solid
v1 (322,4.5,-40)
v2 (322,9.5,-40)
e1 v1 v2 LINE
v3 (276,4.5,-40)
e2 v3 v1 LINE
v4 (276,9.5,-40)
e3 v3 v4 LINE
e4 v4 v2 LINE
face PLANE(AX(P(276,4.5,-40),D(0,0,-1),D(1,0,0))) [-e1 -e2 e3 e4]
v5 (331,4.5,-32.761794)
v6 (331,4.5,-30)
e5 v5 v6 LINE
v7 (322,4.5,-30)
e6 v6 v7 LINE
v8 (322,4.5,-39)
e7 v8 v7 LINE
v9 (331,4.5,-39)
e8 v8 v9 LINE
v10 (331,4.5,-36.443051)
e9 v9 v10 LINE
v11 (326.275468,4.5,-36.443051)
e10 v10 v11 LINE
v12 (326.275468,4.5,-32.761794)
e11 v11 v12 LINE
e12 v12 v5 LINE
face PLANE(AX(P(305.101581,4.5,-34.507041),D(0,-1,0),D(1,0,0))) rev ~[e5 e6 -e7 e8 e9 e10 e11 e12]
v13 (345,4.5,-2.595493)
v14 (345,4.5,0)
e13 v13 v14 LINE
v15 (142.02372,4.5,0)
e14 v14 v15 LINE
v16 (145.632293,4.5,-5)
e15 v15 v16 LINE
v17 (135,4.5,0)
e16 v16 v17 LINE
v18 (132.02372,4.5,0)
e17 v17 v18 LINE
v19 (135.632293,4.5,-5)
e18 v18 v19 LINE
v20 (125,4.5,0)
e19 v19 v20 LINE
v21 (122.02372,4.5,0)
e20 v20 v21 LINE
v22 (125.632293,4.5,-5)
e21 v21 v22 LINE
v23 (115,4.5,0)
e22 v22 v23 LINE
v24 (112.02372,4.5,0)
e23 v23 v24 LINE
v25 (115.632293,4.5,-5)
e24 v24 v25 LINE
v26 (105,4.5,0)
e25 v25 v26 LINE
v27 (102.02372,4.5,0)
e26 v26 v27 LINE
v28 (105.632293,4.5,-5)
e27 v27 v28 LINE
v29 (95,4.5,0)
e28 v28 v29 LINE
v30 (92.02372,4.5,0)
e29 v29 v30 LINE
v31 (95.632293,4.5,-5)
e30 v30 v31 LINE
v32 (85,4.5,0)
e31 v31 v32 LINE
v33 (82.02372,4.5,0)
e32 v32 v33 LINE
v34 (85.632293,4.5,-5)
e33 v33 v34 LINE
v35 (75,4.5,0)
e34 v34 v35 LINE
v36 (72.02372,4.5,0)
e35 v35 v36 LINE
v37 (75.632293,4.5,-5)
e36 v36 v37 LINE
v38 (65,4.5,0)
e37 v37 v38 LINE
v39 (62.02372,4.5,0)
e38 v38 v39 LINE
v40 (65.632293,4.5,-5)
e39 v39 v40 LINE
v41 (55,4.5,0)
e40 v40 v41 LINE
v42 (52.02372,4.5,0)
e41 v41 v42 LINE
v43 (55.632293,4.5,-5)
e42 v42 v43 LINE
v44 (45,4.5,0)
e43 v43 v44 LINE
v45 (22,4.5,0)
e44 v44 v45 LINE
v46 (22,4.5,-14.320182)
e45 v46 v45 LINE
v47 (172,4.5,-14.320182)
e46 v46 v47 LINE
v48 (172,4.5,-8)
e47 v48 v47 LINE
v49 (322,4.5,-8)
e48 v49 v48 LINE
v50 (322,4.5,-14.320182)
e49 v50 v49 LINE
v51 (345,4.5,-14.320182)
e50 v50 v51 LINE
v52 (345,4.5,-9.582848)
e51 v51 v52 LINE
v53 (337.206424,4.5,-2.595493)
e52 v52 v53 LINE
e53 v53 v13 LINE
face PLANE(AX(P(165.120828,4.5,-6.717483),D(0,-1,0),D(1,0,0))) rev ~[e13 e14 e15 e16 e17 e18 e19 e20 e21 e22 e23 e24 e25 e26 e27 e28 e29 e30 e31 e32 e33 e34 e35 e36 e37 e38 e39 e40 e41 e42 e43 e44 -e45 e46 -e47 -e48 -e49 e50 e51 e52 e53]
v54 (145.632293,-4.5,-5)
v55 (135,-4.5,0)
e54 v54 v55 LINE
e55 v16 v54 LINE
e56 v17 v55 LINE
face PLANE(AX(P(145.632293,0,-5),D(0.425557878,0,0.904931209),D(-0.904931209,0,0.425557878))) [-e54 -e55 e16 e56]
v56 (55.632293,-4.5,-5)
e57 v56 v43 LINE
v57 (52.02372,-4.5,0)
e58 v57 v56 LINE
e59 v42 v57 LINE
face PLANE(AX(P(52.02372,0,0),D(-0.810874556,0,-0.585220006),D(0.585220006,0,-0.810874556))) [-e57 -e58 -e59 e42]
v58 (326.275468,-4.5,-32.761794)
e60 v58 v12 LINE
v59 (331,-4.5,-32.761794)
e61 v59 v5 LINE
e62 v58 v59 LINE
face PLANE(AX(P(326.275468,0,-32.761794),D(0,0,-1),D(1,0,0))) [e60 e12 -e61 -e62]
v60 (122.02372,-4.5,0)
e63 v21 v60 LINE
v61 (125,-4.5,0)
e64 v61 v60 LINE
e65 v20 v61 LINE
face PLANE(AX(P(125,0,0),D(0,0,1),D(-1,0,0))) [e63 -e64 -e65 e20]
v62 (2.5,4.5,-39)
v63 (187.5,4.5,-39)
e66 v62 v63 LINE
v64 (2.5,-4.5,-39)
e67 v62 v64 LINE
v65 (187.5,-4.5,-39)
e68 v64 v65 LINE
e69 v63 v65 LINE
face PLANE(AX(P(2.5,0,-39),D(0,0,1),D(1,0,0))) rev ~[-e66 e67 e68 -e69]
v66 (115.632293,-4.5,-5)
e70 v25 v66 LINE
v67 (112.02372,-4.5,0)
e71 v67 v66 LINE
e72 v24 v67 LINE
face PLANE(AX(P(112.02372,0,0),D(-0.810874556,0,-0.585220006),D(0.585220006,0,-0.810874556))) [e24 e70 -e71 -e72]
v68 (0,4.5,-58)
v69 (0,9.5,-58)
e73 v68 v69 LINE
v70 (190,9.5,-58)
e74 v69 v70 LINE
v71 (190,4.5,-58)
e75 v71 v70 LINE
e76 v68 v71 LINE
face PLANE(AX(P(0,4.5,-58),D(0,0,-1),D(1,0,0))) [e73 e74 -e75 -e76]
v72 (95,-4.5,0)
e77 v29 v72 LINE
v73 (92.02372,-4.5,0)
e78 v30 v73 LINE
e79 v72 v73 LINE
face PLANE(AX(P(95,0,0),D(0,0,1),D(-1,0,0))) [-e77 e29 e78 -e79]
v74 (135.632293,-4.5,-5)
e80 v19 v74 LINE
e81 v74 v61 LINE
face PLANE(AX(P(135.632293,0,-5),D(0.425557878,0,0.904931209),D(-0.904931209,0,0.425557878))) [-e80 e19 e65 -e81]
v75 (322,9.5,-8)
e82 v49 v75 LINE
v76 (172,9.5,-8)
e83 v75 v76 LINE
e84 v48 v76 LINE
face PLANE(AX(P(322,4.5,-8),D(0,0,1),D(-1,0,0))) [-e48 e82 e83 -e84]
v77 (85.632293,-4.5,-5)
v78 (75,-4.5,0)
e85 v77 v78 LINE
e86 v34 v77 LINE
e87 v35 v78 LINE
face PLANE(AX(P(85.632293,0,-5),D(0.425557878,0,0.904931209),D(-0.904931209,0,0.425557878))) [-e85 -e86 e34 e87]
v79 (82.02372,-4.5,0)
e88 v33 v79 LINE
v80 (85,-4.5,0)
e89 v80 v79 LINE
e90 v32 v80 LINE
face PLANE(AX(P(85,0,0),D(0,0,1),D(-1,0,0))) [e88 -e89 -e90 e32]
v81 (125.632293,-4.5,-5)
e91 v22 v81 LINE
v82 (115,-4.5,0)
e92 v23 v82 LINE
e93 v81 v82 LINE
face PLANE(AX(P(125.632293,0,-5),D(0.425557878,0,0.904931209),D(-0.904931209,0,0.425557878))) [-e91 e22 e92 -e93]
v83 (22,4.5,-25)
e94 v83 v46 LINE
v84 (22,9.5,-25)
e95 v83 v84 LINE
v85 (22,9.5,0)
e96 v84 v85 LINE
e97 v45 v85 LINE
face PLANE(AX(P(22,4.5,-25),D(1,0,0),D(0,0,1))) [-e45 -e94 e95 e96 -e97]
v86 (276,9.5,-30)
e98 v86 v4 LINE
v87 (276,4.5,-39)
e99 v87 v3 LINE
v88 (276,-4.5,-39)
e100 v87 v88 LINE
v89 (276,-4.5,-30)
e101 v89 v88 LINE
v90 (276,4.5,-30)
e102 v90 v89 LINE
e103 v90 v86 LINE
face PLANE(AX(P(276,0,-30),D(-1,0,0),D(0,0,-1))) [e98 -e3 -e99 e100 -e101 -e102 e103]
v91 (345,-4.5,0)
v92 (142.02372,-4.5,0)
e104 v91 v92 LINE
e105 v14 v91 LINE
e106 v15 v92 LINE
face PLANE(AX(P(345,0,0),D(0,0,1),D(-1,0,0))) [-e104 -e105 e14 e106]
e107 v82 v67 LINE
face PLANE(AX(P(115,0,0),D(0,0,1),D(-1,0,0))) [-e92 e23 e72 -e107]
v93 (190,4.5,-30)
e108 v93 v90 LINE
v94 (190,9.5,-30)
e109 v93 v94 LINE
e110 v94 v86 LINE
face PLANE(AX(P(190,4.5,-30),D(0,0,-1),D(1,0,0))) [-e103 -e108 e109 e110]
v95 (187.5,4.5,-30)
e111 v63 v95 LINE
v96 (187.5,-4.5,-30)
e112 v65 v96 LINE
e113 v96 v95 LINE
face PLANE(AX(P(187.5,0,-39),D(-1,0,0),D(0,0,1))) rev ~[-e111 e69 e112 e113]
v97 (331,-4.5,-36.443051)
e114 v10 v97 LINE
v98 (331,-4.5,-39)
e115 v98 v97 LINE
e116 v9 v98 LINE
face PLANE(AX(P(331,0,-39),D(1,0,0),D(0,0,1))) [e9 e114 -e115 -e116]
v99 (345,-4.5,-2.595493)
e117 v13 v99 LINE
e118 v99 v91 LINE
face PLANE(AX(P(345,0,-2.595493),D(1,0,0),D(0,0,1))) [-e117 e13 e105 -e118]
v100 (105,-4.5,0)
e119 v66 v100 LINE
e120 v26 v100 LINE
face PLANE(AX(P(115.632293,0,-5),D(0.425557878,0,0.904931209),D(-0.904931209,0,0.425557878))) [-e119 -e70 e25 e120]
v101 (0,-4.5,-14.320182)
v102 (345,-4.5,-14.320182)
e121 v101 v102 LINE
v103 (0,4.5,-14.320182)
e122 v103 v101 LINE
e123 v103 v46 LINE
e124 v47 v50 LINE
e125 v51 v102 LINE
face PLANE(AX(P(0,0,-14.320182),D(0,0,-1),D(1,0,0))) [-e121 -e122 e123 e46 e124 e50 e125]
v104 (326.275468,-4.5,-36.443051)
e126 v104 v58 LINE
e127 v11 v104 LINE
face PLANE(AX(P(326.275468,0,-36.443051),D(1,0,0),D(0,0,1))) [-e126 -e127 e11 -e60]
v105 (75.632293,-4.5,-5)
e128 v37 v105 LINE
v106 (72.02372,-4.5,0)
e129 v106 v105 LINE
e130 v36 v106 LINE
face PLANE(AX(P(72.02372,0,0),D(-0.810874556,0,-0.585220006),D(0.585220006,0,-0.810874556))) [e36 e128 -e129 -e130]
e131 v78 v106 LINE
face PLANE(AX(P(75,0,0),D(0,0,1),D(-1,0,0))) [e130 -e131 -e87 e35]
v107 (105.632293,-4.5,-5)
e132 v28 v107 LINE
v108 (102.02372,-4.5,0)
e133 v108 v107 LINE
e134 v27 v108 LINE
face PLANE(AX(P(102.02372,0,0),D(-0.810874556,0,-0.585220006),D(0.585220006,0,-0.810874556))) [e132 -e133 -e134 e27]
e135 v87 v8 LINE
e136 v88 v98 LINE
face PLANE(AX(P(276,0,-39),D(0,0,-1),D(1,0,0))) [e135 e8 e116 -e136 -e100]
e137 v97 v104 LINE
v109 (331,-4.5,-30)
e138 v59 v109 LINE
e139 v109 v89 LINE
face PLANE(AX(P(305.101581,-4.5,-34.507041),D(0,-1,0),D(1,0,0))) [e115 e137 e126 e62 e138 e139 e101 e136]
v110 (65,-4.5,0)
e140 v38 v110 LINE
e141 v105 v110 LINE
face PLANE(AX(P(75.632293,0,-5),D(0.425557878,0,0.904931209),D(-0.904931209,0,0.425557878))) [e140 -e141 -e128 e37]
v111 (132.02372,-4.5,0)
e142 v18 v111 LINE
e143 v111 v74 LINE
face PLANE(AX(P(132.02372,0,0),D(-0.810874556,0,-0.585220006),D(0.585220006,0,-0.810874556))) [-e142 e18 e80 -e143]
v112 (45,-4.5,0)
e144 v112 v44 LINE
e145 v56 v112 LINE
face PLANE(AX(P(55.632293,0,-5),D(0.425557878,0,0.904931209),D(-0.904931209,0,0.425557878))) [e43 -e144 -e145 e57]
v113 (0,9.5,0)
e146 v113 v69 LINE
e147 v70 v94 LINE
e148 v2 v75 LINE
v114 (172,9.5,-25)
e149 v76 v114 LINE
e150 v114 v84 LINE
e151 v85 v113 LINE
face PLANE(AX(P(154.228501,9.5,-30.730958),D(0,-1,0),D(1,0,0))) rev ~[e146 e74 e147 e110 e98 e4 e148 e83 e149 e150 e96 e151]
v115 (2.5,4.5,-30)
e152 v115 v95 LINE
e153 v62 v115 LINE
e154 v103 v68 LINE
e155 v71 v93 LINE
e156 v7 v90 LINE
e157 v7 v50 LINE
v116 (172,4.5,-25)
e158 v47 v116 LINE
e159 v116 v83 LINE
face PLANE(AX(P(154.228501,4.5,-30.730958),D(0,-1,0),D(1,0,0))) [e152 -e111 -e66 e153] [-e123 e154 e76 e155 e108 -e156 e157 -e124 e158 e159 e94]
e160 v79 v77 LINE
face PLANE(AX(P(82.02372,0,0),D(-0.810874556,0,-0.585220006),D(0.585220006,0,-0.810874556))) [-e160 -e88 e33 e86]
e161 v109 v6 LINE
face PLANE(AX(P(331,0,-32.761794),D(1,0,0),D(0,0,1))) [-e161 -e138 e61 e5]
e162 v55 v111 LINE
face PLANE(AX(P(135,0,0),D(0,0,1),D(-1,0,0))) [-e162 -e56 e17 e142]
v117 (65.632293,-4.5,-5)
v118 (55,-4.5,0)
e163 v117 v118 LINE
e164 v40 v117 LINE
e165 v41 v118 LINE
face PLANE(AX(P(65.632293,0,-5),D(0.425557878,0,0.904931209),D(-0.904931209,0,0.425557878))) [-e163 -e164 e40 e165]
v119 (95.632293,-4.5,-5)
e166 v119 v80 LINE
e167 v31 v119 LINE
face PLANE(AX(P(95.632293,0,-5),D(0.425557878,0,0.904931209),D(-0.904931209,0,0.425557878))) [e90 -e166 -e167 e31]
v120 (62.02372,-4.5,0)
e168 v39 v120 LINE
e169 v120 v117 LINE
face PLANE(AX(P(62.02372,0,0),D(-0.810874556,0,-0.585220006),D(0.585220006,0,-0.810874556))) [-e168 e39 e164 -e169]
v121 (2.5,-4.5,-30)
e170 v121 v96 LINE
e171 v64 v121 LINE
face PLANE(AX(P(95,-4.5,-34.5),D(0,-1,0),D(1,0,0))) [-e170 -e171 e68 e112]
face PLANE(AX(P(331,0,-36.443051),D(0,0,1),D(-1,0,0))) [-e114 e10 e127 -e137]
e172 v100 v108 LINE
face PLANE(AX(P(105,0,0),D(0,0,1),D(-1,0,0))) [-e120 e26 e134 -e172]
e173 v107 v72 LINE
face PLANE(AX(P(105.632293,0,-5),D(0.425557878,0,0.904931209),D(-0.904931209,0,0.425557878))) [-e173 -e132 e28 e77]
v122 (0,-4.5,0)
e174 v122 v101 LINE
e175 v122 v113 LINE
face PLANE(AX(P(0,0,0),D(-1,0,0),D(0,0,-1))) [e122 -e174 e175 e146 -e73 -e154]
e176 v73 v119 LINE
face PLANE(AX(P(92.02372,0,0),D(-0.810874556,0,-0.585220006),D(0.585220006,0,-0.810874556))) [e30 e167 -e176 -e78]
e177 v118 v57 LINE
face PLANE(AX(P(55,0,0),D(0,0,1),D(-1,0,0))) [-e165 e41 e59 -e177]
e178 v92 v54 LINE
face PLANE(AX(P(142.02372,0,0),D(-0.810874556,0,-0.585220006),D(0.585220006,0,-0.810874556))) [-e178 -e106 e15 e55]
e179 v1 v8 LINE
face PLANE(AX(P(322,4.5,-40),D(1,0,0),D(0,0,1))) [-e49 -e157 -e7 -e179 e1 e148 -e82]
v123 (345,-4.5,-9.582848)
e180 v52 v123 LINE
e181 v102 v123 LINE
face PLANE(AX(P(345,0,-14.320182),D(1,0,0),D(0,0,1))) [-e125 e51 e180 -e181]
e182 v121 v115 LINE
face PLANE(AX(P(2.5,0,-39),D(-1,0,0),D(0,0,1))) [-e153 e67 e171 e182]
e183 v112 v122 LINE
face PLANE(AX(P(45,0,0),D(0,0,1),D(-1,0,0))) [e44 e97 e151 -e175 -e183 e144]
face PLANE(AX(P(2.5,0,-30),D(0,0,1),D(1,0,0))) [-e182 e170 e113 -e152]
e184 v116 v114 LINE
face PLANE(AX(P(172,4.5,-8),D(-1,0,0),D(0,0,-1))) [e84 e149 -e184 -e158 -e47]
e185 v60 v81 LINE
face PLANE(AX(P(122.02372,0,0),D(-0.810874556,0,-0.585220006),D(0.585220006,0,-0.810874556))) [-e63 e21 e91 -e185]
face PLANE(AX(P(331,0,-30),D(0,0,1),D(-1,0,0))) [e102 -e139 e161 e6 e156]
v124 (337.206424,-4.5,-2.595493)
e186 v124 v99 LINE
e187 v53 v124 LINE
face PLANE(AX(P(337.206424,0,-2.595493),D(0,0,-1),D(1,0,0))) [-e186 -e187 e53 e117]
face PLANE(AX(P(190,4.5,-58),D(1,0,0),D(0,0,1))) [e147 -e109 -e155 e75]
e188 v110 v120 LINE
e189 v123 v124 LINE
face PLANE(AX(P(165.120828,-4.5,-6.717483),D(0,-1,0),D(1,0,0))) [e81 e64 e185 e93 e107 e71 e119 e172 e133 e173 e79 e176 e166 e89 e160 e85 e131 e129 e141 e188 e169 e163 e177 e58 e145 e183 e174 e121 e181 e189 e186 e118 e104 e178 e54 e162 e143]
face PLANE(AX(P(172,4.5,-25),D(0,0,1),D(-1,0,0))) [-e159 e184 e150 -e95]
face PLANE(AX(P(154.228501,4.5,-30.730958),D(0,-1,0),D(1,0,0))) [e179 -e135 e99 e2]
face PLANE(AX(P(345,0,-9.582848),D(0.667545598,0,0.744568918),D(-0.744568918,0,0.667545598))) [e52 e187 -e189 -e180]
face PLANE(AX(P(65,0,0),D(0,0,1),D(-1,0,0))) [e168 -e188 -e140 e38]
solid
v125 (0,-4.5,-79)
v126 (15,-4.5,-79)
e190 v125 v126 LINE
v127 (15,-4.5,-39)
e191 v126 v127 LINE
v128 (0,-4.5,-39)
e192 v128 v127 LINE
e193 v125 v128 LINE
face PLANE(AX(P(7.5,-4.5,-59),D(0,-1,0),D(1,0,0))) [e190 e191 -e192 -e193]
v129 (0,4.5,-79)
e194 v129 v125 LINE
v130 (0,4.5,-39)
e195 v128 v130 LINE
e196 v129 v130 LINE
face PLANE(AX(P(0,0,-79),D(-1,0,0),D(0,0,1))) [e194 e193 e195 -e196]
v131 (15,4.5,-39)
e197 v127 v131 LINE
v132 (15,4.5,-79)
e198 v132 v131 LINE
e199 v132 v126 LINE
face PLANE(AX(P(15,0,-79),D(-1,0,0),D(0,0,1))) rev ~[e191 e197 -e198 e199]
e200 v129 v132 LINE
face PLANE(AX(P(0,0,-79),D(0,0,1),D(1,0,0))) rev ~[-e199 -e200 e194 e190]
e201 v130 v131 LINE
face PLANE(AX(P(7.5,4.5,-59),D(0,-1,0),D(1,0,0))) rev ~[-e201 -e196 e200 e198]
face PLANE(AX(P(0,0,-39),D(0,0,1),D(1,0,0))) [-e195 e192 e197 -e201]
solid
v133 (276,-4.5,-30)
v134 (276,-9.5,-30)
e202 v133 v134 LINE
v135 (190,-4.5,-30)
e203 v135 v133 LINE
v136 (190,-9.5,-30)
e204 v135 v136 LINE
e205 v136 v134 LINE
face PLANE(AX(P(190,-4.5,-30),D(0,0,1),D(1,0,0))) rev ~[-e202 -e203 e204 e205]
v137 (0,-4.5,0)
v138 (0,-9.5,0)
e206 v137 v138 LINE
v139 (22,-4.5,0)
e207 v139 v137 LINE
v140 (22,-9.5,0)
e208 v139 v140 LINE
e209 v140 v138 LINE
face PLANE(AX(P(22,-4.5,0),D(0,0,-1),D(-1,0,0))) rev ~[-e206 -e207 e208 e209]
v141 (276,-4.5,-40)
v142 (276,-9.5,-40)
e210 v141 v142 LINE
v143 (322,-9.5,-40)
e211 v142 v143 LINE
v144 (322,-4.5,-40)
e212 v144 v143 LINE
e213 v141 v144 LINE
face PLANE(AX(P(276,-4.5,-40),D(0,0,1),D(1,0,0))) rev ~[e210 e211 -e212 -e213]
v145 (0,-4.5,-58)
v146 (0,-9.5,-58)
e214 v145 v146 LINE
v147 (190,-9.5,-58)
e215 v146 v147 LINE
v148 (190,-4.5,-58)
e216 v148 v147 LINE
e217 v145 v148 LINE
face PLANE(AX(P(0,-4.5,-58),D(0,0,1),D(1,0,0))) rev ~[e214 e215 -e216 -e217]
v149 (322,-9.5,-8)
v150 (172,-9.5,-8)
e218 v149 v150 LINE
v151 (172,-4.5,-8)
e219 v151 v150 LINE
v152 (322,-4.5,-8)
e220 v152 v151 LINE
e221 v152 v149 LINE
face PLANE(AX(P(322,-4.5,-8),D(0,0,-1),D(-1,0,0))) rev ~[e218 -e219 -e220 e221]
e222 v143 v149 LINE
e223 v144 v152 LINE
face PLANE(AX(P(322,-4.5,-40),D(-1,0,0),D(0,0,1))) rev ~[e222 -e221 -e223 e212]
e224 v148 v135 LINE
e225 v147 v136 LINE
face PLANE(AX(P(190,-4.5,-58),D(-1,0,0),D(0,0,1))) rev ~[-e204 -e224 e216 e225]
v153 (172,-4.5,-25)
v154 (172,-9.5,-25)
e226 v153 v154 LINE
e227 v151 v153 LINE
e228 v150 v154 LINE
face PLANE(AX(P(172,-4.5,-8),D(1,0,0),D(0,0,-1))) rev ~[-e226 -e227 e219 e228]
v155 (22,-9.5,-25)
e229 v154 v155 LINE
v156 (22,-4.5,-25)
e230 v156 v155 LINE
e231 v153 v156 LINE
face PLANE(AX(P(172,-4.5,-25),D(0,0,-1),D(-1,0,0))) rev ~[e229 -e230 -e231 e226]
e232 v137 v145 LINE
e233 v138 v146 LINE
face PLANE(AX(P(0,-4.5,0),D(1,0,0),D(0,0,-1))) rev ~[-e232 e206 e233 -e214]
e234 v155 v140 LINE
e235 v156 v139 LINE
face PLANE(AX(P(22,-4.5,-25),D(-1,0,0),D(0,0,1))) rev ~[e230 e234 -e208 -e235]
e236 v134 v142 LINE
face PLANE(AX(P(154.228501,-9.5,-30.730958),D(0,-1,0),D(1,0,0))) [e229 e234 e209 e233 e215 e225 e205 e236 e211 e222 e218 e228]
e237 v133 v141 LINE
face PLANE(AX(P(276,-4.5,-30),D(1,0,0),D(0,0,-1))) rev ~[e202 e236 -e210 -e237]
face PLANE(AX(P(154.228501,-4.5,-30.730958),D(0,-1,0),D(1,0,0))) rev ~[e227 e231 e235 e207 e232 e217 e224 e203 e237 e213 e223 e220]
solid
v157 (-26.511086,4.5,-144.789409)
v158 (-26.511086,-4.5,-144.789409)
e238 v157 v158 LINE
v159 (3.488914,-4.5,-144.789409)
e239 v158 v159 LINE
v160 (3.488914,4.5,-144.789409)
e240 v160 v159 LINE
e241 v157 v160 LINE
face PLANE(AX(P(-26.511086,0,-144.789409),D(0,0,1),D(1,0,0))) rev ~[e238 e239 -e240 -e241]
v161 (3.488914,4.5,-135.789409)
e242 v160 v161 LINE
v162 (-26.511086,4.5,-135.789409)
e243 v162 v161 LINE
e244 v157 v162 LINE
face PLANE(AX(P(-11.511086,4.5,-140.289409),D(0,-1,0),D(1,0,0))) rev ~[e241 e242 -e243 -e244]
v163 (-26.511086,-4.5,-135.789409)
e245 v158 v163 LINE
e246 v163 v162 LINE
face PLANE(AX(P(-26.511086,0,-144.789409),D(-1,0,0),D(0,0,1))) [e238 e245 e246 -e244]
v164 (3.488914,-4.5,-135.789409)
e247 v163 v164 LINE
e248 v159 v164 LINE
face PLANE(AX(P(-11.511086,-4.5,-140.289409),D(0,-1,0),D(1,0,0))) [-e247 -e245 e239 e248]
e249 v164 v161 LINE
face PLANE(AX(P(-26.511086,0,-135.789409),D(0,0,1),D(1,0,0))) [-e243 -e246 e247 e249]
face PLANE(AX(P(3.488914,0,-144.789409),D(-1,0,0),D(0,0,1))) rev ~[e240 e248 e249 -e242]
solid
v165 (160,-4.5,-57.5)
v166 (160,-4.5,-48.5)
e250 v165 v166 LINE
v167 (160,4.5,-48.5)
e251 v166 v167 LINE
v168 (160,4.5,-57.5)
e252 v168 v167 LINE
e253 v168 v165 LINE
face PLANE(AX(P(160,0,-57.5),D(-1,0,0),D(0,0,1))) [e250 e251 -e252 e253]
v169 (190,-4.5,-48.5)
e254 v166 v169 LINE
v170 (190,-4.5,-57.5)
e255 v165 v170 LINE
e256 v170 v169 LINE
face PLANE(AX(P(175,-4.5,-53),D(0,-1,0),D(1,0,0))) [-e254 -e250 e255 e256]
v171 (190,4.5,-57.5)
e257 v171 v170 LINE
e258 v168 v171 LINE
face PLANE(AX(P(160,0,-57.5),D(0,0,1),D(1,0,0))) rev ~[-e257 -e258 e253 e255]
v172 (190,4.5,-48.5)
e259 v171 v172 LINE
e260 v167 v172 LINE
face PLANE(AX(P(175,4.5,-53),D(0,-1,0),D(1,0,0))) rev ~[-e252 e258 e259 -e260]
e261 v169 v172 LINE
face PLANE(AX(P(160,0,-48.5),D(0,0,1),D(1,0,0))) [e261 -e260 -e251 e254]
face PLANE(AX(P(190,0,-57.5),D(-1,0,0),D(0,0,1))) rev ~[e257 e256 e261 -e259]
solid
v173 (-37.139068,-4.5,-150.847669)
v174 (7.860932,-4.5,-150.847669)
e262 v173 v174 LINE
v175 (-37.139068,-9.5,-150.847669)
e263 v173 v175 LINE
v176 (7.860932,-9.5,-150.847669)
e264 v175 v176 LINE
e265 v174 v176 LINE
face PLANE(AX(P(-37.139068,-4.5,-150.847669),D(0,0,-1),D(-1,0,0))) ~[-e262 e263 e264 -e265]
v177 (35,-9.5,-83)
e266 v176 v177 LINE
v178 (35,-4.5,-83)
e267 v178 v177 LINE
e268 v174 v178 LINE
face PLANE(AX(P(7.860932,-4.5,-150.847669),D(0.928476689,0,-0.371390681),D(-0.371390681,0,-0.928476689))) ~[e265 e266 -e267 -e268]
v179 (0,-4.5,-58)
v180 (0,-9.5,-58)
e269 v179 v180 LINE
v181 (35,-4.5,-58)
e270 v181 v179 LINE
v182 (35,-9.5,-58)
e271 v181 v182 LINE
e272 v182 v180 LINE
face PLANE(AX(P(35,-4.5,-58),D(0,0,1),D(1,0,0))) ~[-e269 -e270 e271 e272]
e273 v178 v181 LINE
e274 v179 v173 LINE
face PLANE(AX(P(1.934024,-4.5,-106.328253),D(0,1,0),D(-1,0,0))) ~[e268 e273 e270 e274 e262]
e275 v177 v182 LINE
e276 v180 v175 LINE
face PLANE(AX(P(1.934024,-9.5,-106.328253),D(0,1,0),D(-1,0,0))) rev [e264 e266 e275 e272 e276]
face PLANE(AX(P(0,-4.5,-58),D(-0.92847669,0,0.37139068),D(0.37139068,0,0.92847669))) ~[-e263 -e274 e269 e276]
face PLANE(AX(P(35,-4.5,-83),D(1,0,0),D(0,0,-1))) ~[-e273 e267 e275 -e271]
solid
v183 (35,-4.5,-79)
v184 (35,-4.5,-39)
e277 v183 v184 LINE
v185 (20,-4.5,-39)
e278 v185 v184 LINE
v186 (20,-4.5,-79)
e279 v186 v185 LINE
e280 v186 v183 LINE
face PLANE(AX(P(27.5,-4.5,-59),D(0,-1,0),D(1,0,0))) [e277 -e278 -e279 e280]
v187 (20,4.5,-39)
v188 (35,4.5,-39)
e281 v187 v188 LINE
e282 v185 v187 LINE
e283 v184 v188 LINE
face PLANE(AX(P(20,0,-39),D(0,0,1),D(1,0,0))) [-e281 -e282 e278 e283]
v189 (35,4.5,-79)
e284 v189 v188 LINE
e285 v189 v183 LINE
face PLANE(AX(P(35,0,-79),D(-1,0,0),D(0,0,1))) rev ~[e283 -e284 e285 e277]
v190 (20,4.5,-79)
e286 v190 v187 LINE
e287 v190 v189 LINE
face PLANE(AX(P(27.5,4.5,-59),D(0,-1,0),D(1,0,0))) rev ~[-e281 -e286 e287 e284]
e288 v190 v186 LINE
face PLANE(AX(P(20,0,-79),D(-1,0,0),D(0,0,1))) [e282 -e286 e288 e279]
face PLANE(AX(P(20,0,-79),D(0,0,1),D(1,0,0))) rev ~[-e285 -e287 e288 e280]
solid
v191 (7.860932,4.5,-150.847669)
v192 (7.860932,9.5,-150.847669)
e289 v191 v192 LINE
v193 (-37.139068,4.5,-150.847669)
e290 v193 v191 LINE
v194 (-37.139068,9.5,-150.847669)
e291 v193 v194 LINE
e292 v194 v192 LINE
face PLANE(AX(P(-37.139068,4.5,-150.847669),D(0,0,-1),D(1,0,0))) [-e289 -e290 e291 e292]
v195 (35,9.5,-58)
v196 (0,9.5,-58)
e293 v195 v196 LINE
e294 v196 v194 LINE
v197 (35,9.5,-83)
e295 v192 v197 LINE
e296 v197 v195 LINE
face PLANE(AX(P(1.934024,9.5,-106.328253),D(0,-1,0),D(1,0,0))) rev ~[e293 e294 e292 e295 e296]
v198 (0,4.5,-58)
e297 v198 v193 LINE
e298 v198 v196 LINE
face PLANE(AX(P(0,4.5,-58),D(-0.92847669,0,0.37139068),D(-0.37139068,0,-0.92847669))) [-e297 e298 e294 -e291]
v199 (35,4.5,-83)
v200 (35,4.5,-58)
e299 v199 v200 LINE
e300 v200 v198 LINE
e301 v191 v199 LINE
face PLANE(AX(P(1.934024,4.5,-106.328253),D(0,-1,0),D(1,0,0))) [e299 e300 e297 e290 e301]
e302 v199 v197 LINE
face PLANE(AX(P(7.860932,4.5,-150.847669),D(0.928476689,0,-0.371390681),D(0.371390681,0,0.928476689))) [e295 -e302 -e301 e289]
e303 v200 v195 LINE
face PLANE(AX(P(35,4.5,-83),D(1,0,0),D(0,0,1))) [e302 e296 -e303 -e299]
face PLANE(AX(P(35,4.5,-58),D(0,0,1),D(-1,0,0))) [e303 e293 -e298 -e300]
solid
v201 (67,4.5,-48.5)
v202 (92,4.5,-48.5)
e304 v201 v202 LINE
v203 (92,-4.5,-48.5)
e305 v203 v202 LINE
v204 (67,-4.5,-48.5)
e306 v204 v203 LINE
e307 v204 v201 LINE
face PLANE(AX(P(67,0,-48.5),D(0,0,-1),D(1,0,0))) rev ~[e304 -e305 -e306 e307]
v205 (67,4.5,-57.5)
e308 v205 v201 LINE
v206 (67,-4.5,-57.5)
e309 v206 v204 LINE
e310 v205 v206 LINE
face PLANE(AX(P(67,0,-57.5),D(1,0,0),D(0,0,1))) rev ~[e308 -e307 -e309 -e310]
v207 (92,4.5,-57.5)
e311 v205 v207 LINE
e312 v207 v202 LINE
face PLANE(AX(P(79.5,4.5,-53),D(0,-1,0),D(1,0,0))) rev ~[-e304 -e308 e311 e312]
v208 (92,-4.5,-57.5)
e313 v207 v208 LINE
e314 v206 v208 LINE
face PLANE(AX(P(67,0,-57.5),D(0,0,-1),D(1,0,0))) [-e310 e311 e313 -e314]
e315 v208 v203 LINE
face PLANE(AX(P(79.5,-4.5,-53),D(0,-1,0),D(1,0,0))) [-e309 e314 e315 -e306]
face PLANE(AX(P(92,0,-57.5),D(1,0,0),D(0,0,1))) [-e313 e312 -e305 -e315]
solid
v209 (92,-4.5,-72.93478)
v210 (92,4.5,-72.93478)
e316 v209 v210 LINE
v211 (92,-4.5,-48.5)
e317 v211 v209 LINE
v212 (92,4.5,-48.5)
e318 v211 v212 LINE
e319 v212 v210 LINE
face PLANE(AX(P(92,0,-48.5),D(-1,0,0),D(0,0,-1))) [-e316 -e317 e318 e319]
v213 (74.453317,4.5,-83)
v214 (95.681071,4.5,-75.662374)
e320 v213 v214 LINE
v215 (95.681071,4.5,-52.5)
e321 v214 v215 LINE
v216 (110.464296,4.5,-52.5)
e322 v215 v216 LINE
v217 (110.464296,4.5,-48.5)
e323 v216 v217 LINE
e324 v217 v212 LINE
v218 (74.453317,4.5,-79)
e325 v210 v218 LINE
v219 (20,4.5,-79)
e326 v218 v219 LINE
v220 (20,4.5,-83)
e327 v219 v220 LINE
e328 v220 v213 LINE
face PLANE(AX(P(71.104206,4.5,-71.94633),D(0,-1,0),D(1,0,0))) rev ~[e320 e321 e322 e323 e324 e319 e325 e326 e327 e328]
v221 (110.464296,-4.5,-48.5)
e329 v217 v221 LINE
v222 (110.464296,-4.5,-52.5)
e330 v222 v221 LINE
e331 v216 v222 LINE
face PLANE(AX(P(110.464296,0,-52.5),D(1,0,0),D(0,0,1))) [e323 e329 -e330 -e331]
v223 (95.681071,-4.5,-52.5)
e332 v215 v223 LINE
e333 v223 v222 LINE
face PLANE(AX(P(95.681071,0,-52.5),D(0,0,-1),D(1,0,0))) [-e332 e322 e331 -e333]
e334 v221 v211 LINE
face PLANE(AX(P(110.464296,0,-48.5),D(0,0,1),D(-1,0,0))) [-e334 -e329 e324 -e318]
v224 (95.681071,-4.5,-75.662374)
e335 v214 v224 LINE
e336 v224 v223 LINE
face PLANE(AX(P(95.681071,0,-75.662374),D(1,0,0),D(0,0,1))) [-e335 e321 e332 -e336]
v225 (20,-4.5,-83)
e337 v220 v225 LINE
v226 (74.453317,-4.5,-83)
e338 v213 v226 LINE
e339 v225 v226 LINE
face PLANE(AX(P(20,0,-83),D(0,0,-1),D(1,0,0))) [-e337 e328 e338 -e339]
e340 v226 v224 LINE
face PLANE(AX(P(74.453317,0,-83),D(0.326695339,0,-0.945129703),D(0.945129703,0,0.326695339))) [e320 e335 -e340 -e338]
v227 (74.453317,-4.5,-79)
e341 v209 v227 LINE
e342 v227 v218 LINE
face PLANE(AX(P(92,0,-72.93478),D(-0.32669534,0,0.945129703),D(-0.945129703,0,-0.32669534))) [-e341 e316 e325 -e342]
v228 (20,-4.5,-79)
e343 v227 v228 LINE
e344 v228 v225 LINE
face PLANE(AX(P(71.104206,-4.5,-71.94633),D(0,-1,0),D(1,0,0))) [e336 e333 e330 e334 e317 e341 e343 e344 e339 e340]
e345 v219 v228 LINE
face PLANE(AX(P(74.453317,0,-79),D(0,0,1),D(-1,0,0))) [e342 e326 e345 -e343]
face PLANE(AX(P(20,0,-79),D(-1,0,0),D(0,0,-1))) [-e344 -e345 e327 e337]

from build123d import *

# Parameters (mm, degrees)
F2_DEPTH  = 5
F3_W      = 185
F3_H      = 9
F4_DEPTH  = 4.5
F6_DEPTH  = 4.5
F8_DEPTH  = 5
F9_W      = 15
F9_H      = 40
F9_W_2    = 30
F9_H_2    = 9
F9_W_3    = 25
F10_DEPTH = 4.5
F14_DEPTH = 5
F16_DEPTH = 4.5


with BuildPart() as f2:
    # F1 (on offset) → F2 (new body)
    with BuildSketch(Plane.XZ.offset(-4.5)):
        Polygon((22, 0), (0, 0), (0, -58), (190, -58), (190, -30), (276, -30), (276, -40), (322, -40), (322, -8), (172, -8), (172, -25), (22, -25), align=None)
    extrude(amount=-F2_DEPTH)

    # F3 (on Front) → F4 (join, symmetric)
    with BuildSketch(Plane.XZ):
        with Locations((95, -34.5)):
            Rectangle(F3_W, F3_H)
        Polygon((331, -30), (276, -30), (276, -39), (331, -39), (331, -36.443051), (326.275468, -36.443051), (326.275468, -32.761794), (331, -32.761794), align=None)
    extrude(amount=F4_DEPTH, both=True)

    # F5 (on Front) → F6 (join, symmetric)
    with BuildSketch(Plane.XZ):
        Polygon((39.891679, 0), (0, 0), (0, -5), (0, -14.320182), (345, -14.320182), (345, -9.582848), (337.206424, -2.595493), (345, -2.595493), (345, 0), (142.02372, 0), (145.632293, -5), (135, 0), (132.02372, 0), (135.632293, -5), (125, 0), (122.02372, 0), (125.632293, -5), (115, 0), (112.02372, 0), (115.632293, -5), (105, 0), (102.02372, 0), (105.632293, -5), (95, 0), (92.02372, 0), (95.632293, -5), (85, 0), (82.02372, 0), (85.632293, -5), (75, 0), (72.02372, 0), (75.632293, -5), (65, 0), (62.02372, 0), (65.632293, -5), (55, 0), (52.02372, 0), (55.632293, -5), (45, 0), (40.031508, 0), align=None)
    extrude(amount=F6_DEPTH, both=True)


with BuildPart() as f8:
    # F7 (on offset) → F8 (new body)
    with BuildSketch(Plane.XZ.offset(-4.5)):
        Polygon((35, -58), (0, -58), (-37.139068, -150.847669), (7.860932, -150.847669), (35, -83), align=None)
    extrude(amount=-F8_DEPTH)


with BuildPart() as f10:
    # F9 (on Front) → F10 (new body, symmetric)
    with BuildSketch(Plane.XZ):
        with Locations((7.5, -59)):
            Rectangle(F9_W, F9_H)
        with Locations((27.5, -59)):
            Rectangle(F9_W, F9_H)
        with Locations((-11.511086, -140.289409)):
            Rectangle(F9_W_2, F9_H_2)
        with Locations((175, -53)):
            Rectangle(F9_W_2, F9_H_2)
        with Locations((79.5, -53)):
            Rectangle(F9_W_3, F9_H_2)
    extrude(amount=F10_DEPTH, both=True)


with BuildPart() as f11_1:
    # F11: instance of F8
    add(f8.part.mirror(Plane.XZ))


with BuildPart() as f14:
    # F13 (on offset) → F14 (new body)
    with BuildSketch(Plane.XZ.offset(4.5)):
        Polygon((22, 0), (0, 0), (0, -58), (190, -58), (190, -30), (276, -30), (276, -40), (322, -40), (322, -8), (172, -8), (172, -25), (22, -25), align=None)
    extrude(amount=F14_DEPTH)


with BuildPart() as f16:
    # F15 (on Front) → F16 (new body, symmetric)
    with BuildSketch(Plane.XZ):
        Polygon((74.453317, -79), (20, -79), (20, -83), (74.453317, -83), (95.681071, -75.662374), (95.681071, -52.5), (110.464296, -52.5), (110.464296, -48.5), (92, -48.5), (92, -72.93478), align=None)
    extrude(amount=F16_DEPTH, both=True)


solid = Compound([f2.part, f8.part, f10.part, f11_1.part, f14.part, f16.part])
